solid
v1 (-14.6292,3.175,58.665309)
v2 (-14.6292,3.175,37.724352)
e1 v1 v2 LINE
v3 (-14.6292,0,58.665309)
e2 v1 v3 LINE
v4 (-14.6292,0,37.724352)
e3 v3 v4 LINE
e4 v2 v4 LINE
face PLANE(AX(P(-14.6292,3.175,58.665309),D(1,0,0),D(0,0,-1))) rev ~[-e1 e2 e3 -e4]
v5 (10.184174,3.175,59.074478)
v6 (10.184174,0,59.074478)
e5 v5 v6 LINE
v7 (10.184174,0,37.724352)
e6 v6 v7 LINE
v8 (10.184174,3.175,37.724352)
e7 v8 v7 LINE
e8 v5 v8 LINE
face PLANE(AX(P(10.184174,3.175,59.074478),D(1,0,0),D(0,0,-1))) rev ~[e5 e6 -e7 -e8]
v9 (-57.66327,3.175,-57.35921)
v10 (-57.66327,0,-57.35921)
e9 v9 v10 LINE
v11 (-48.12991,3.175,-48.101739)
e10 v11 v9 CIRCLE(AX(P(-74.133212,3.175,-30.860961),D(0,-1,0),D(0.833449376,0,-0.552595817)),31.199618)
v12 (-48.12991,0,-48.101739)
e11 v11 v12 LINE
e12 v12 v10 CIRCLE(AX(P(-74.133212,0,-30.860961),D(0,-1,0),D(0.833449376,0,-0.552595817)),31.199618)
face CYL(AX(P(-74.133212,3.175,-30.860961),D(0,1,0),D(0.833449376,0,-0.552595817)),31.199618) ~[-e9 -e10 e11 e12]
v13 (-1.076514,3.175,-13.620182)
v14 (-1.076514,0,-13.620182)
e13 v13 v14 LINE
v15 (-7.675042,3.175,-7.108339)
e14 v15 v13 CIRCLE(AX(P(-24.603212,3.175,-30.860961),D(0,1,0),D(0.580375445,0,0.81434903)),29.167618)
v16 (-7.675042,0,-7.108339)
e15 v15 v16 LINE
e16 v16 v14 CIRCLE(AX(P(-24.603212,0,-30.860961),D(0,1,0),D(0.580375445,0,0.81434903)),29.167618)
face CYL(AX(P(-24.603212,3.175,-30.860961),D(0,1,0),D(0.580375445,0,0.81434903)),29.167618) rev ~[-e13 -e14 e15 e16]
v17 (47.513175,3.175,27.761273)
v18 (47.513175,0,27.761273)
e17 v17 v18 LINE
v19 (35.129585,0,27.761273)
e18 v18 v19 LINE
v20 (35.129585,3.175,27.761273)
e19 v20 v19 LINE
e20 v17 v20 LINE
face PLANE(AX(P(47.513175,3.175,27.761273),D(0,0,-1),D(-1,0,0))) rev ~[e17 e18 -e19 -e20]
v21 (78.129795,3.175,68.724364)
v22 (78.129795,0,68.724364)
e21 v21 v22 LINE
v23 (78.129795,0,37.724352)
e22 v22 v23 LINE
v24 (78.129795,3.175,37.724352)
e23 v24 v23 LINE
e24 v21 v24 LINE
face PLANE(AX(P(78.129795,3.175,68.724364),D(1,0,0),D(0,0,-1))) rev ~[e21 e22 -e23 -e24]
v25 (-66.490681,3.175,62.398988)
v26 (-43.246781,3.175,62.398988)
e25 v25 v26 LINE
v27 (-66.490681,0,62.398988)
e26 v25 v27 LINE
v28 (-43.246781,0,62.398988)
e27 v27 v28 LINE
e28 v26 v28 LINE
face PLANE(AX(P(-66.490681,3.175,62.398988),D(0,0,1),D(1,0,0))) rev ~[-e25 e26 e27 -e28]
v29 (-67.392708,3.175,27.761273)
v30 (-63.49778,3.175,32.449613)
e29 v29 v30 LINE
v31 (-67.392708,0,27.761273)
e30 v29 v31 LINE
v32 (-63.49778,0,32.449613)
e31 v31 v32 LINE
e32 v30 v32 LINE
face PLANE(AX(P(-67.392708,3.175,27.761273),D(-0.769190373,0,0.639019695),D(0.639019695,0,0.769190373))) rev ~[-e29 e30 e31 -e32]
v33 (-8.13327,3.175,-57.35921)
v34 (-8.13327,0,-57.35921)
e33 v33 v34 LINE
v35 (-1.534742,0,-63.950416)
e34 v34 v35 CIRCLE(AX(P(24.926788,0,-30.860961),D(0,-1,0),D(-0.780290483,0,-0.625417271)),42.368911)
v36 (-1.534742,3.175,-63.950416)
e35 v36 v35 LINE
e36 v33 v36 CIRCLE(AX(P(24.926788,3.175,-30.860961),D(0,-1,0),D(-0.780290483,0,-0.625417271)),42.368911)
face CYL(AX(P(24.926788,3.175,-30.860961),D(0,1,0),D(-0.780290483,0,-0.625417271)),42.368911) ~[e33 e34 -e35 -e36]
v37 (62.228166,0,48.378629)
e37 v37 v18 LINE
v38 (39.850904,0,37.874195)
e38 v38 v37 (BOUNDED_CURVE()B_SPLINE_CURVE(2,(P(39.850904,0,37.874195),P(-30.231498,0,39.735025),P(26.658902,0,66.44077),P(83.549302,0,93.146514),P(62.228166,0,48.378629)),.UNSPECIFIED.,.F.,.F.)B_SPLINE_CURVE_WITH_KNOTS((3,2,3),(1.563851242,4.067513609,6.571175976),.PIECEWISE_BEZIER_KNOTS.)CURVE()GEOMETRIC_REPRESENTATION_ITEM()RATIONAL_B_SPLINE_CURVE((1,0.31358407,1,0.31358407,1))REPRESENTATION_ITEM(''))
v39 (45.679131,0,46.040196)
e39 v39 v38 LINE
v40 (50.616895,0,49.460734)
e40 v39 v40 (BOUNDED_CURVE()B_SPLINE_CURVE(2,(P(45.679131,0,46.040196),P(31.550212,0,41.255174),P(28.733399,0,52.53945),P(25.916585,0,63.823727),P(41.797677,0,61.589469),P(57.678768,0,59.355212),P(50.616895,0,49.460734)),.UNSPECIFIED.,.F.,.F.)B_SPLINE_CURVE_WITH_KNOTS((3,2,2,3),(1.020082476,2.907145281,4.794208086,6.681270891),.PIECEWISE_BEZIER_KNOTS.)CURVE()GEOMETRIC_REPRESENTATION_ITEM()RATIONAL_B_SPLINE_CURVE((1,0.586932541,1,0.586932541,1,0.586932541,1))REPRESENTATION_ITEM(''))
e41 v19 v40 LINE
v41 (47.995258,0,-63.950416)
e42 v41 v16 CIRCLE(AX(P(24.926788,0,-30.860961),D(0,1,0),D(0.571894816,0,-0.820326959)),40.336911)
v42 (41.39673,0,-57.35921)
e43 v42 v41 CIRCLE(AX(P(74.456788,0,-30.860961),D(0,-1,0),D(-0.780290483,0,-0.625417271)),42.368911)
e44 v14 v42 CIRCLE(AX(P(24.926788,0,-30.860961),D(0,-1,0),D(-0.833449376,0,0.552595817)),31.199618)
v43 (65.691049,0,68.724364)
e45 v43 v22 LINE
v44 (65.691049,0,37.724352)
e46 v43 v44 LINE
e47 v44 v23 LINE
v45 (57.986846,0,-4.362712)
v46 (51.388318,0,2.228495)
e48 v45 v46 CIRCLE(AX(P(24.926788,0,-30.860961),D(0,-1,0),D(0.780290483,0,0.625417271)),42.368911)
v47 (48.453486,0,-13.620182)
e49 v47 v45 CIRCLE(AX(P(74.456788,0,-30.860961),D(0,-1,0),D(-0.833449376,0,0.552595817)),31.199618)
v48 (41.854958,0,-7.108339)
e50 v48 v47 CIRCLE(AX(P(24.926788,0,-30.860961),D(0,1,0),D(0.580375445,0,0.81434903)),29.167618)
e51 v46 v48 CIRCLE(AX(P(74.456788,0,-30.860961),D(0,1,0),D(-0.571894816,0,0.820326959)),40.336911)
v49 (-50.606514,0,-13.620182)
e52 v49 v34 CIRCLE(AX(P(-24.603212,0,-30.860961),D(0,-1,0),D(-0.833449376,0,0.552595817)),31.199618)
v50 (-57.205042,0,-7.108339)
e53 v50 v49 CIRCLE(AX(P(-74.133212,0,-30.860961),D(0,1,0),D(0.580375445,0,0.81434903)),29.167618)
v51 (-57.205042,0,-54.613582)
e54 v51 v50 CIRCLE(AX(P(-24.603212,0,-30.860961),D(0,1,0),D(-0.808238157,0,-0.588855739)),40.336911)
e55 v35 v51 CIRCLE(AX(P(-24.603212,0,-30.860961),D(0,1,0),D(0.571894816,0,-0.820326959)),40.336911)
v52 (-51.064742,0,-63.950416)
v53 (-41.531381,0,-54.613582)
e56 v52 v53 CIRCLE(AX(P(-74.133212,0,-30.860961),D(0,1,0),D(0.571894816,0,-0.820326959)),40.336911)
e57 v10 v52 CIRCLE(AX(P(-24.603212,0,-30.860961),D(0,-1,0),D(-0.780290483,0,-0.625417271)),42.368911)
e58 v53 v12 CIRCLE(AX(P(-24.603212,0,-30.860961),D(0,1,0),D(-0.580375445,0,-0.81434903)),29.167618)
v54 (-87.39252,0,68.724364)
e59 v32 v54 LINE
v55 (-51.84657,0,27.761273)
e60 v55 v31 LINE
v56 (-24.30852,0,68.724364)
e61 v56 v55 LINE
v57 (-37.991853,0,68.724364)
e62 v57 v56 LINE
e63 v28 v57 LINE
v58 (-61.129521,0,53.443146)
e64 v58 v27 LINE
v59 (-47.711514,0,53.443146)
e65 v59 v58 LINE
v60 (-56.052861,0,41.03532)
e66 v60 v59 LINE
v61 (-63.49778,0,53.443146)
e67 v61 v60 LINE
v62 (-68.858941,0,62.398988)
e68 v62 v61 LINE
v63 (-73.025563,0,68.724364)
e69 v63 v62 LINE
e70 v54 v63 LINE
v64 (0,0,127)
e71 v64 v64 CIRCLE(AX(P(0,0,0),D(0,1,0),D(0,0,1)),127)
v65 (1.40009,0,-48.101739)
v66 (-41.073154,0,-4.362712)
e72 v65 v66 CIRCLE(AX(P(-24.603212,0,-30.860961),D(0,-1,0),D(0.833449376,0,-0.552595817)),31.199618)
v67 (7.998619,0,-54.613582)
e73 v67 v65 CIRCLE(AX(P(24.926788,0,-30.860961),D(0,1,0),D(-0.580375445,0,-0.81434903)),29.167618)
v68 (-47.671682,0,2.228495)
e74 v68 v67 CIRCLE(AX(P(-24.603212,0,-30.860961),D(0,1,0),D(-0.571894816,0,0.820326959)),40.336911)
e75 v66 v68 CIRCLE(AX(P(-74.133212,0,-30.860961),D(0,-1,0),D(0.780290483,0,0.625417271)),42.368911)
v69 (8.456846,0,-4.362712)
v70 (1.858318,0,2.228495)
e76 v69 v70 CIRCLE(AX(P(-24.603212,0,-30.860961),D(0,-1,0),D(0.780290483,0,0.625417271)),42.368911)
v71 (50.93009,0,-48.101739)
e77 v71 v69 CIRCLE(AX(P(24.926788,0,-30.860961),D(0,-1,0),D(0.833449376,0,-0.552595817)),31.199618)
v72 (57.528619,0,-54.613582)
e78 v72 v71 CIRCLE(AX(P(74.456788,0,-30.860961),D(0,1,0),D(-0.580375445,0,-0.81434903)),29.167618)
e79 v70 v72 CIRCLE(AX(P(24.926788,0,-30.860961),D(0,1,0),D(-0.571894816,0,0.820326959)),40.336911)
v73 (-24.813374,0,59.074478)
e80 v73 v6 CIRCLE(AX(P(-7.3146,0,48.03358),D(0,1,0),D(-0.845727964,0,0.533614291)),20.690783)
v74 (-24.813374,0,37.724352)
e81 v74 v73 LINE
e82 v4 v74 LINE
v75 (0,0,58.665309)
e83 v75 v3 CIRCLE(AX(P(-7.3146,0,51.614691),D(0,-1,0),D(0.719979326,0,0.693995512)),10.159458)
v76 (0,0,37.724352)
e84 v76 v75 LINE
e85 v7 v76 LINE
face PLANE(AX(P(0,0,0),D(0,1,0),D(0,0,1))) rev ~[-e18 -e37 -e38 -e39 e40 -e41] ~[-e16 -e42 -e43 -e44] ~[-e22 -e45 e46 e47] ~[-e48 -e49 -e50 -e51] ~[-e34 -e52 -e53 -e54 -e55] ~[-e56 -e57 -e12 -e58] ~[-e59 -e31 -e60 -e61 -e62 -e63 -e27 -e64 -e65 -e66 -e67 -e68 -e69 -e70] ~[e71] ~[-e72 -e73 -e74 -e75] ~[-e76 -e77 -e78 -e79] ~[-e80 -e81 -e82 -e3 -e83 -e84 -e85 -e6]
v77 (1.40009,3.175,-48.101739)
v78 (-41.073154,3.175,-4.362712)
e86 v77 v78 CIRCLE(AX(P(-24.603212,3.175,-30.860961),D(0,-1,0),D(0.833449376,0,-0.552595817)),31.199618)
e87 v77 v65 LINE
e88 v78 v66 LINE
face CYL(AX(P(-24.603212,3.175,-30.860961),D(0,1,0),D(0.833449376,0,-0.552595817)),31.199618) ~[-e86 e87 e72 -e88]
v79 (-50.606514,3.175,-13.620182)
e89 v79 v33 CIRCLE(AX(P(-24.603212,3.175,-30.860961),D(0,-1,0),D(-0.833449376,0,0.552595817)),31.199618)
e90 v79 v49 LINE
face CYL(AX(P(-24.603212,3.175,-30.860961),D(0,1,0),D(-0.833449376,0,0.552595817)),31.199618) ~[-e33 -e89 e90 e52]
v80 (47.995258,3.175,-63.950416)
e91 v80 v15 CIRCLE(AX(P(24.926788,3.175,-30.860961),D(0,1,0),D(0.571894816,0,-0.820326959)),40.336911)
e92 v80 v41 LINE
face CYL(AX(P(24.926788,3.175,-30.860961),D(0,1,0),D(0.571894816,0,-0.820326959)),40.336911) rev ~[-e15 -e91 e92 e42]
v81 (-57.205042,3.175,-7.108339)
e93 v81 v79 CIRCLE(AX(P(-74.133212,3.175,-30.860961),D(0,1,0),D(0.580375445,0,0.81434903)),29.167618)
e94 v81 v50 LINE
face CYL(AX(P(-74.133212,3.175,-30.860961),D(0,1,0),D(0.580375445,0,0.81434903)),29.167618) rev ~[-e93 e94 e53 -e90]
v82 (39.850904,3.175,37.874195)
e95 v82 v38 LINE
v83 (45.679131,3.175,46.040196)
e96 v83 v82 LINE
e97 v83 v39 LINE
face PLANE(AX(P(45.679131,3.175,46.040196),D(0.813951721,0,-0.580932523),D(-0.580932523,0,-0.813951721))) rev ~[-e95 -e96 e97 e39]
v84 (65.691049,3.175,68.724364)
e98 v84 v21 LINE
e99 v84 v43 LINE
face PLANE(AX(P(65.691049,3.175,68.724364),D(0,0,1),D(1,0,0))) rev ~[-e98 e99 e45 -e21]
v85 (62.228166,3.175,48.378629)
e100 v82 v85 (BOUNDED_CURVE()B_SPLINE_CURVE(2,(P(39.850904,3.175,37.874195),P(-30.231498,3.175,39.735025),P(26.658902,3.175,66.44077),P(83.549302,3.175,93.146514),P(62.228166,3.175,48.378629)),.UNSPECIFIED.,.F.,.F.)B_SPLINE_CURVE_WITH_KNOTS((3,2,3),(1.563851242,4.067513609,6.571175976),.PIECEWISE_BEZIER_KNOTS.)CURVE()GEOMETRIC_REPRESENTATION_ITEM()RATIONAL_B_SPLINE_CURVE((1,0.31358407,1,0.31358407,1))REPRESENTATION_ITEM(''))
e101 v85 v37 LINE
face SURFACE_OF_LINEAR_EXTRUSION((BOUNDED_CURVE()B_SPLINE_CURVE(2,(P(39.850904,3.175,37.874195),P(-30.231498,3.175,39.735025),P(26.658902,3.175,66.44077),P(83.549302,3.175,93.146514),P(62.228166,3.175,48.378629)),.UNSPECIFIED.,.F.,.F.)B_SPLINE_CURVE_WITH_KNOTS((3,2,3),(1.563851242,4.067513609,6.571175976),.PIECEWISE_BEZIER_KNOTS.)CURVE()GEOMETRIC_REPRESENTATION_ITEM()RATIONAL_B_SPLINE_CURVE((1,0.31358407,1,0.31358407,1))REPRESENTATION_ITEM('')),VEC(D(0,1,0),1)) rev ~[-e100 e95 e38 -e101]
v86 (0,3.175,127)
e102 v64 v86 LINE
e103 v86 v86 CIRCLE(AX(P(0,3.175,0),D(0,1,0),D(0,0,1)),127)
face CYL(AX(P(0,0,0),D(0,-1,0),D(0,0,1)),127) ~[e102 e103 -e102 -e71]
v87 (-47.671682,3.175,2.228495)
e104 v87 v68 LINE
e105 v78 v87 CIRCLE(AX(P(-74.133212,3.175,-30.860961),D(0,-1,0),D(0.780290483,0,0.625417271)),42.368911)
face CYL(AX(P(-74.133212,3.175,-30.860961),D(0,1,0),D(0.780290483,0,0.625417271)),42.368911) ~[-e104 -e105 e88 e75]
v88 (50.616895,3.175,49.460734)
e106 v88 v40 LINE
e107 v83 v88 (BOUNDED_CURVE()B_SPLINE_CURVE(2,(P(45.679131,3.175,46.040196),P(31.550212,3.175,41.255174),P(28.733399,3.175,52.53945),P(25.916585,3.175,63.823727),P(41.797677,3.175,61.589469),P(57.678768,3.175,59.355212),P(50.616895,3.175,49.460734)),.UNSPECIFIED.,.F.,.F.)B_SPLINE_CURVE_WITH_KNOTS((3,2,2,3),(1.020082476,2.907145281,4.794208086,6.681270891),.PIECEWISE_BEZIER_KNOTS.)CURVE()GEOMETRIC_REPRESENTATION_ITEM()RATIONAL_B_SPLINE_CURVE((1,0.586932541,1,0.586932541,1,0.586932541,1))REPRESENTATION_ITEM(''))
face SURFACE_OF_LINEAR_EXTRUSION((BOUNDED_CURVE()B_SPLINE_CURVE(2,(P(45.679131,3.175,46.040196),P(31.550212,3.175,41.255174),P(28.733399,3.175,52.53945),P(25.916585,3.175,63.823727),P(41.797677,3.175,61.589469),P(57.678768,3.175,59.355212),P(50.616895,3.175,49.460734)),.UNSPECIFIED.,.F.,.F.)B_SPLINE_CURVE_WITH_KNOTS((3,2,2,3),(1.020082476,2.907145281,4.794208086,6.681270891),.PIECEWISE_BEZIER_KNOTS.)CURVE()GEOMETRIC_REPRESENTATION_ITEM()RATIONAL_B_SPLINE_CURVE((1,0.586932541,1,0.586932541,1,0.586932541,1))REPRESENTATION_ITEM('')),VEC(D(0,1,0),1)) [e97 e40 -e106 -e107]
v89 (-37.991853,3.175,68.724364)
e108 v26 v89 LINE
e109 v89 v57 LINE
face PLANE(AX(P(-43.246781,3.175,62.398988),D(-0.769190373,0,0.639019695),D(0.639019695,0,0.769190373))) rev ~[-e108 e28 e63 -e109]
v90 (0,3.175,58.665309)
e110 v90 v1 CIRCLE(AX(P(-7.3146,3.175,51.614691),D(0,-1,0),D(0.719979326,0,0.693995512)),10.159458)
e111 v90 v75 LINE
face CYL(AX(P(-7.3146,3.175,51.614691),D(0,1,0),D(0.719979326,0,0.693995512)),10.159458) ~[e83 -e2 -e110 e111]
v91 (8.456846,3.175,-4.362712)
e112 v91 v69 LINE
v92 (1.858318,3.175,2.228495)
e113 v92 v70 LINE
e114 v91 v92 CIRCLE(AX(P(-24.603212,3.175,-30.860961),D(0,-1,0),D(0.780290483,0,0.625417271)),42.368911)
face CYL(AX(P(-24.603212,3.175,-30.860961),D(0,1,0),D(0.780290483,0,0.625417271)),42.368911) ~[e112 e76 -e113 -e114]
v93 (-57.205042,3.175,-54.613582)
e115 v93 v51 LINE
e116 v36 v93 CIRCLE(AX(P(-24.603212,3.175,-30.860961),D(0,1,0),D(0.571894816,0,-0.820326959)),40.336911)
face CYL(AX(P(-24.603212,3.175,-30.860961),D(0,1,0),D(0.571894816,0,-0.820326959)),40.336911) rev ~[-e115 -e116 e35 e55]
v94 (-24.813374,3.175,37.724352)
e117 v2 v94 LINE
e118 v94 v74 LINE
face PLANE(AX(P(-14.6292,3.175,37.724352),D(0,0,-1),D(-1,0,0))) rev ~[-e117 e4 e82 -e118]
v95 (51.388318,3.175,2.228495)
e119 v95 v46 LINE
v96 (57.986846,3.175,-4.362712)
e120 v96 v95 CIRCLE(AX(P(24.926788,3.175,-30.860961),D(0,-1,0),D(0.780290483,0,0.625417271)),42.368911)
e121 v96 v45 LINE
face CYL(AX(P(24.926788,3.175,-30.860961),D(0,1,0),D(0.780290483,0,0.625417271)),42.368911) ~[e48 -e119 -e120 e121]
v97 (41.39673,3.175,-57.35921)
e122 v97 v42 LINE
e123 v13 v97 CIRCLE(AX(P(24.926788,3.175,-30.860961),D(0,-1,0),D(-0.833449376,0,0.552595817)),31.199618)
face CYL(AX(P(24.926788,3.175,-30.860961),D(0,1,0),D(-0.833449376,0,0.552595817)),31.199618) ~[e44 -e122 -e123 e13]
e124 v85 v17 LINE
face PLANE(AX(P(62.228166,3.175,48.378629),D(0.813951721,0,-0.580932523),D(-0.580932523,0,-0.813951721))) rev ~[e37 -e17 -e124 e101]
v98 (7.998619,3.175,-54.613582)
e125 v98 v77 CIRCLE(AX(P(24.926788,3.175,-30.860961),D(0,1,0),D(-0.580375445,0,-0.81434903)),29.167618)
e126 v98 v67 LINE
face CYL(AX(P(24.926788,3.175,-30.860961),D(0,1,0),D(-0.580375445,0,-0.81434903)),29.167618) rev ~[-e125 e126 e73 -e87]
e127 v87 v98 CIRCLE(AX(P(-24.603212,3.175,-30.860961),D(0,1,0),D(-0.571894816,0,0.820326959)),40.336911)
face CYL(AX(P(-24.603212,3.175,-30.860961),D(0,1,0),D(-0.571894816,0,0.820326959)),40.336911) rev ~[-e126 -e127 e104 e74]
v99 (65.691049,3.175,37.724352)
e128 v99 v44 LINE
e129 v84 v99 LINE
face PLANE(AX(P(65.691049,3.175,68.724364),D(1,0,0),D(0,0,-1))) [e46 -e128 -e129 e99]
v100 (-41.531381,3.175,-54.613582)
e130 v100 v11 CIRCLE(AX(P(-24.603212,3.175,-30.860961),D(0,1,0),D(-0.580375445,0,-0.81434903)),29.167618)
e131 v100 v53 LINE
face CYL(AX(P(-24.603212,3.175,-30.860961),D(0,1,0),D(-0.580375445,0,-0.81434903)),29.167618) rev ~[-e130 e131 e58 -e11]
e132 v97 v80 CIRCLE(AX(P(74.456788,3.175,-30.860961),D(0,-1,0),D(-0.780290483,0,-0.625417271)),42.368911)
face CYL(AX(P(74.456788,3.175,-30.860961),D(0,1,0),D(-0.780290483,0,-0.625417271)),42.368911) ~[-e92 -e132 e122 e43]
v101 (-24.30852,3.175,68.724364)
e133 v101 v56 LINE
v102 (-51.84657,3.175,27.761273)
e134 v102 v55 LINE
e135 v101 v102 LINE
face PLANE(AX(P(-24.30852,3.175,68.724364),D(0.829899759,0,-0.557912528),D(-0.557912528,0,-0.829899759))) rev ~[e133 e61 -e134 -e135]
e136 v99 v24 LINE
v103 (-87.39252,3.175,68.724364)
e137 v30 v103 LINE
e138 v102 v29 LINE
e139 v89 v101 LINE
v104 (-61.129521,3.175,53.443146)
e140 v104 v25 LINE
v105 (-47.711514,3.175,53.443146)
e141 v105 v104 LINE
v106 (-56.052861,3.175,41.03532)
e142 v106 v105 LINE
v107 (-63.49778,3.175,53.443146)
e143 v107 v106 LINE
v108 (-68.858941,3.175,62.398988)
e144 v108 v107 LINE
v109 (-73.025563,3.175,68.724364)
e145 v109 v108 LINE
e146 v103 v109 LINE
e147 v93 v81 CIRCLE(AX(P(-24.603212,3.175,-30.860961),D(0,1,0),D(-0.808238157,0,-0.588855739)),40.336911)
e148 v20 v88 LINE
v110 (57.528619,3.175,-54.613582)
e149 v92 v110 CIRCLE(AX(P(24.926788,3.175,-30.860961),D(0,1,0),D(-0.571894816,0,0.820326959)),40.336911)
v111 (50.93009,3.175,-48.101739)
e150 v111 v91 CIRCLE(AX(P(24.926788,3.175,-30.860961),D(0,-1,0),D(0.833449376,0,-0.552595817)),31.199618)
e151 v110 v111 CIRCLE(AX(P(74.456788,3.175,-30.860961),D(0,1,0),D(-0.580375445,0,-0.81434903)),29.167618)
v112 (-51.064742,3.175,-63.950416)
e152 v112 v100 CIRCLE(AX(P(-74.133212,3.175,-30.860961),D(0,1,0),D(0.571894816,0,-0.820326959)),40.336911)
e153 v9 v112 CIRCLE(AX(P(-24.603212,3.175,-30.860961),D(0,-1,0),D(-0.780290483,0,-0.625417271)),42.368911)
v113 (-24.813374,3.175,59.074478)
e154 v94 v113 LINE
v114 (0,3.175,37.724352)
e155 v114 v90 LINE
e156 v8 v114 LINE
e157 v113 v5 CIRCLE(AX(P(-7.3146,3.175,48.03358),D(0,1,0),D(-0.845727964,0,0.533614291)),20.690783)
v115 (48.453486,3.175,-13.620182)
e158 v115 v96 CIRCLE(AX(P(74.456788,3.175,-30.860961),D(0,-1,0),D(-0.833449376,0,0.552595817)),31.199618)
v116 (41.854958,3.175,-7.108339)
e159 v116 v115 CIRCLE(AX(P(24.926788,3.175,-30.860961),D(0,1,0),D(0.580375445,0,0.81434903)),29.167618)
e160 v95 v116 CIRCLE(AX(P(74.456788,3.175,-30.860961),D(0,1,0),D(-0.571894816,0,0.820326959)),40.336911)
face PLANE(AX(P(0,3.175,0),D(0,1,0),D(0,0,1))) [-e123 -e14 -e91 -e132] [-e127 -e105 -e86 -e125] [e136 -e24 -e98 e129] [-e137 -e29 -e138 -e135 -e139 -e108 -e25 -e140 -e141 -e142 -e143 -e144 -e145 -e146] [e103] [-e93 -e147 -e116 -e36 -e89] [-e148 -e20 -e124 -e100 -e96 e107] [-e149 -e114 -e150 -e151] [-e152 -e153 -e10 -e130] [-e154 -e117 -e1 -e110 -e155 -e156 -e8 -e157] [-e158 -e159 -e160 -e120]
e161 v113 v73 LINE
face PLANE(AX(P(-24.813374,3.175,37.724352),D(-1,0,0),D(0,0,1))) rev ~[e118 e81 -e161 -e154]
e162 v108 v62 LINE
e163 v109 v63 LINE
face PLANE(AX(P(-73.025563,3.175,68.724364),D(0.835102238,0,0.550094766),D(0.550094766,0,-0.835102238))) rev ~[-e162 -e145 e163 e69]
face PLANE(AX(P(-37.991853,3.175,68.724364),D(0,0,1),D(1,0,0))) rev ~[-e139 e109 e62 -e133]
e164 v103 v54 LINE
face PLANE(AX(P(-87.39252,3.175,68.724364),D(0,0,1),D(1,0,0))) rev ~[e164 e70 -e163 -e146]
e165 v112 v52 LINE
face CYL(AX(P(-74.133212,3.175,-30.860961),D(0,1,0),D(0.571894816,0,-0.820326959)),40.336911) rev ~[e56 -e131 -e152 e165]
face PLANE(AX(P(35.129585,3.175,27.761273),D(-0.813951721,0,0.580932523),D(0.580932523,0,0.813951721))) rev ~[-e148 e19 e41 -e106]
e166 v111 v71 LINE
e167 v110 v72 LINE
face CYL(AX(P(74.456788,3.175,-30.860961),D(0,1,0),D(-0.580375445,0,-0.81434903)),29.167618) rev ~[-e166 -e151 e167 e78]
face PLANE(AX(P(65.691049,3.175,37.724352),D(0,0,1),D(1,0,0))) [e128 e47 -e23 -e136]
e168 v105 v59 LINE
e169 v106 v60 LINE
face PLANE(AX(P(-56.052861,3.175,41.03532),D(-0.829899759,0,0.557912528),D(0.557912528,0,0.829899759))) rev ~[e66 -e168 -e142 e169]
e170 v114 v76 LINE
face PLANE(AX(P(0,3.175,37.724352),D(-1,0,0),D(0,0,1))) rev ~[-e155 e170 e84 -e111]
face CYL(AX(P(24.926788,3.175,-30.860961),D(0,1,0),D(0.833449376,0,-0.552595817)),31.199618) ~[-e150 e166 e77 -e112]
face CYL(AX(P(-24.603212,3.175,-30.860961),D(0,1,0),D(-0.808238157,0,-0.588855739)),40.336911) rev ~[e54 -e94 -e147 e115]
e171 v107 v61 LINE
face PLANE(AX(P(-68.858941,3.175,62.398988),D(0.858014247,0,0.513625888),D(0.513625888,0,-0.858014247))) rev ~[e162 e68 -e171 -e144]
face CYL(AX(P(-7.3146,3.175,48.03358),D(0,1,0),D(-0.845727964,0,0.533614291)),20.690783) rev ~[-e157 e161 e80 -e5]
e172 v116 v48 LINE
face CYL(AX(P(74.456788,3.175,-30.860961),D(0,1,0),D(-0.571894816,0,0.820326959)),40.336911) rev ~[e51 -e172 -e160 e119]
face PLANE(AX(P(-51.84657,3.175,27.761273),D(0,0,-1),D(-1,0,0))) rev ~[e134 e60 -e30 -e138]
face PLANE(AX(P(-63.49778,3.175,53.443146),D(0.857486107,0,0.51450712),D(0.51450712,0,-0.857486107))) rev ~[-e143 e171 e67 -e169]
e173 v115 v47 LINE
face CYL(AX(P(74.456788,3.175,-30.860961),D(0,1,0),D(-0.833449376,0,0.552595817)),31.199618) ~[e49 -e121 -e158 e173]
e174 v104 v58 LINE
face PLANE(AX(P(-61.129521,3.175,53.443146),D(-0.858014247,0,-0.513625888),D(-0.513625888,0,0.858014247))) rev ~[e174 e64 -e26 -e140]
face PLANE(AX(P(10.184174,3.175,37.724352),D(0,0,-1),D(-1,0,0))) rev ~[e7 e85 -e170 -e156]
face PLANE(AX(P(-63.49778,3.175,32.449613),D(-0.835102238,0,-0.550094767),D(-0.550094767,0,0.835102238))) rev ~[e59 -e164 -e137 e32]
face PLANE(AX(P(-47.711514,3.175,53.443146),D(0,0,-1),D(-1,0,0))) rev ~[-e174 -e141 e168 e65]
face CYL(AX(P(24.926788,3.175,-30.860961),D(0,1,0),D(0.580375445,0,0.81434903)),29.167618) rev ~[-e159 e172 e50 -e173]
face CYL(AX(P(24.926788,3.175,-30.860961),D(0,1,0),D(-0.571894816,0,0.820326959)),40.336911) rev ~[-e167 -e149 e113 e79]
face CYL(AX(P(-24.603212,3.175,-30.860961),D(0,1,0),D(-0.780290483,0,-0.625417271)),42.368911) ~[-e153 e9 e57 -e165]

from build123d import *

# Parameters (mm, degrees)
SKETCH1_R           = 127
BOSS_EXTRUDE1_DEPTH = 3.175
SKETCH2_W           = 12.438745875
SKETCH2_H           = 31.000011437
CUT_EXTRUDE1_DEPTH  = 3.175


with BuildPart() as part:
    # Sketch1 → Boss-Extrude1 (new body)
    with BuildSketch(Plane(origin=(0, 0, 0), x_dir=(1, 0, 0), z_dir=(0, 1, 0))):
        with Locations(Location((0, 0, 0), (0, 0, 270))):
            Circle(SKETCH1_R)
    extrude(amount=BOSS_EXTRUDE1_DEPTH)

    # Sketch2 → Cut-Extrude1 (cut)
    with BuildSketch(Plane(origin=(0, 3.175, 0), x_dir=(1, 0, 0), z_dir=(0, 1, 0))):
        Polygon((-51.846570392, -27.761273072), (-67.392708125, -27.761273072), (-63.49777994, -32.449612553), (-87.392519872, -68.724363756), (-73.025563352, -68.724363756), (-68.858940519, -62.398988085), (-63.49777994, -53.443146367), (-56.052860633, -41.035320282), (-47.711513929, -53.443146367), (-61.129520895, -53.443146367), (-66.490681474, -62.398988085), (-43.246780748, -62.398988085), (-37.991853267, -68.724363756), (-24.308519881, -68.724363756), align=None)
        with BuildLine():
            Line((47.513174781, -27.761273072), (35.129585086, -27.761273072))
            Line((35.129585086, -27.761273072), (50.616895331, -49.460734396))
            add(Edge.make_bspline(
                [(45.679130911, -46.040196269), (31.550212316, -41.255173944), (28.733398827, -52.539450499), (25.916585337, -63.823727055), (41.797676766, -61.589469293), (57.678768195, -59.355211531), (50.616895331, -49.460734396)],
                knots=[1.020082476, 1.020082476, 1.020082476, 2.907145281, 2.907145281, 4.794208086, 4.794208086, 6.681270891, 6.681270891, 6.681270891], degree=2, weights=[1, 0.586932541, 1, 0.586932541, 1, 0.586932541, 1]))
            Line((45.679130911, -46.040196269), (39.850903677, -37.874195236))
            add(Edge.make_bspline(
                [(39.850903677, -37.874195236), (-30.231497677, -39.73502536), (26.658902193, -66.440769536), (83.549302064, -93.146513713), (62.228166445, -48.37862931)],
                knots=[1.563851242, 1.563851242, 1.563851242, 4.067513609, 4.067513609, 6.571175976, 6.571175976, 6.571175976], degree=2, weights=[1, 0.31358407, 1, 0.31358407, 1]))
            Line((62.228166445, -48.37862931), (47.513174781, -27.761273072))
        make_face()
        with BuildLine():
            Line((-14.629199742, -37.724352319), (-24.813373872, -37.724352319))
            Line((-24.813373872, -37.724352319), (-24.813373872, -59.074478125))
            ThreePointArc((-24.813373872, -59.074478125), (-7.314599871, -68.724363756), (10.184174129, -59.074478125))
            Line((10.184174129, -59.074478125), (10.184174129, -37.724352319))
            Line((10.184174129, -37.724352319), (0, -37.724352319))
            Line((0, -37.724352319), (0, -58.665309043))
            ThreePointArc((0, -58.665309043), (-7.314599871, -61.774148851), (-14.629199742, -58.665309043))
            Line((-14.629199742, -58.665309043), (-14.629199742, -37.724352319))
        make_face()
        with Locations((71.910421643, -53.224358038)):
            Rectangle(SKETCH2_W, SKETCH2_H)
        with BuildLine():
            ThreePointArc((-57.663269864, 57.359209553), (-54.545921341, 60.836930705), (-51.064741507, 63.950416403))
            ThreePointArc((-51.064741507, 63.950416403), (-102.357132874, 2.042968688), (-41.531381183, 54.613582399))
            ThreePointArc((-41.531381183, 54.613582399), (-45.091015331, 51.621496868), (-48.12990954, 48.101739338))
            ThreePointArc((-48.12990954, 48.101739338), (-95.868420767, 8.4780016), (-57.663269864, 57.359209553))
        make_face()
        with BuildLine():
            ThreePointArc((-50.606514106, 13.62018236), (-46.986171072, 52.596169792), (-8.133269864, 57.359209553))
            ThreePointArc((-8.133269864, 57.359209553), (-5.015921341, 60.836930705), (-1.534741507, 63.950416403))
            ThreePointArc((-1.534741507, 63.950416403), (-31.275194817, 70.642250855), (-57.205042464, 54.613582399))
            ThreePointArc((-57.205042464, 54.613582399), (-64.940122856, 30.860960849), (-57.205042464, 7.108339298))
            ThreePointArc((-57.205042464, 7.108339298), (-53.645408316, 10.100424829), (-50.606514106, 13.62018236))
        make_face()
        with BuildLine():
            ThreePointArc((-1.076514106, 13.62018236), (2.543828928, 52.596169792), (41.396730136, 57.359209553))
            ThreePointArc((41.396730136, 57.359209553), (44.514078659, 60.836930705), (47.995258493, 63.950416403))
            ThreePointArc((47.995258493, 63.950416403), (-3.891203984, 59.084881899), (-7.675042464, 7.108339298))
            ThreePointArc((-7.675042464, 7.108339298), (-4.115408316, 10.100424829), (-1.076514106, 13.62018236))
        make_face()
        with BuildLine():
            ThreePointArc((48.453485894, 13.62018236), (96.19199712, 53.243920097), (57.986846218, 4.362712144))
            ThreePointArc((57.986846218, 4.362712144), (54.869497694, 0.884990992), (51.38831786, -2.228494706))
            ThreePointArc((51.38831786, -2.228494706), (102.680709227, 59.678953009), (41.854957536, 7.108339298))
            ThreePointArc((41.854957536, 7.108339298), (45.414591684, 10.100424829), (48.453485894, 13.62018236))
        make_face()
        with BuildLine():
            ThreePointArc((1.40009046, 48.101739338), (-2.220252575, 9.125751905), (-41.073153782, 4.362712144))
            ThreePointArc((-41.073153782, 4.362712144), (-44.190502306, 0.884990992), (-47.67168214, -2.228494706))
            ThreePointArc((-47.67168214, -2.228494706), (4.214780337, 2.637039798), (7.998618817, 54.613582399))
            ThreePointArc((7.998618817, 54.613582399), (4.438984669, 51.621496868), (1.40009046, 48.101739338))
        make_face()
        with BuildLine():
            ThreePointArc((50.93009046, 48.101739338), (47.309747425, 9.125751905), (8.456846218, 4.362712144))
            ThreePointArc((8.456846218, 4.362712144), (5.339497694, 0.884990992), (1.85831786, -2.228494706))
            ThreePointArc((1.85831786, -2.228494706), (53.744780337, 2.637039798), (57.528618817, 54.613582399))
            ThreePointArc((57.528618817, 54.613582399), (53.968984669, 51.621496868), (50.93009046, 48.101739338))
        make_face()
    extrude(amount=-CUT_EXTRUDE1_DEPTH, mode=Mode.SUBTRACT)


solid = part.part
